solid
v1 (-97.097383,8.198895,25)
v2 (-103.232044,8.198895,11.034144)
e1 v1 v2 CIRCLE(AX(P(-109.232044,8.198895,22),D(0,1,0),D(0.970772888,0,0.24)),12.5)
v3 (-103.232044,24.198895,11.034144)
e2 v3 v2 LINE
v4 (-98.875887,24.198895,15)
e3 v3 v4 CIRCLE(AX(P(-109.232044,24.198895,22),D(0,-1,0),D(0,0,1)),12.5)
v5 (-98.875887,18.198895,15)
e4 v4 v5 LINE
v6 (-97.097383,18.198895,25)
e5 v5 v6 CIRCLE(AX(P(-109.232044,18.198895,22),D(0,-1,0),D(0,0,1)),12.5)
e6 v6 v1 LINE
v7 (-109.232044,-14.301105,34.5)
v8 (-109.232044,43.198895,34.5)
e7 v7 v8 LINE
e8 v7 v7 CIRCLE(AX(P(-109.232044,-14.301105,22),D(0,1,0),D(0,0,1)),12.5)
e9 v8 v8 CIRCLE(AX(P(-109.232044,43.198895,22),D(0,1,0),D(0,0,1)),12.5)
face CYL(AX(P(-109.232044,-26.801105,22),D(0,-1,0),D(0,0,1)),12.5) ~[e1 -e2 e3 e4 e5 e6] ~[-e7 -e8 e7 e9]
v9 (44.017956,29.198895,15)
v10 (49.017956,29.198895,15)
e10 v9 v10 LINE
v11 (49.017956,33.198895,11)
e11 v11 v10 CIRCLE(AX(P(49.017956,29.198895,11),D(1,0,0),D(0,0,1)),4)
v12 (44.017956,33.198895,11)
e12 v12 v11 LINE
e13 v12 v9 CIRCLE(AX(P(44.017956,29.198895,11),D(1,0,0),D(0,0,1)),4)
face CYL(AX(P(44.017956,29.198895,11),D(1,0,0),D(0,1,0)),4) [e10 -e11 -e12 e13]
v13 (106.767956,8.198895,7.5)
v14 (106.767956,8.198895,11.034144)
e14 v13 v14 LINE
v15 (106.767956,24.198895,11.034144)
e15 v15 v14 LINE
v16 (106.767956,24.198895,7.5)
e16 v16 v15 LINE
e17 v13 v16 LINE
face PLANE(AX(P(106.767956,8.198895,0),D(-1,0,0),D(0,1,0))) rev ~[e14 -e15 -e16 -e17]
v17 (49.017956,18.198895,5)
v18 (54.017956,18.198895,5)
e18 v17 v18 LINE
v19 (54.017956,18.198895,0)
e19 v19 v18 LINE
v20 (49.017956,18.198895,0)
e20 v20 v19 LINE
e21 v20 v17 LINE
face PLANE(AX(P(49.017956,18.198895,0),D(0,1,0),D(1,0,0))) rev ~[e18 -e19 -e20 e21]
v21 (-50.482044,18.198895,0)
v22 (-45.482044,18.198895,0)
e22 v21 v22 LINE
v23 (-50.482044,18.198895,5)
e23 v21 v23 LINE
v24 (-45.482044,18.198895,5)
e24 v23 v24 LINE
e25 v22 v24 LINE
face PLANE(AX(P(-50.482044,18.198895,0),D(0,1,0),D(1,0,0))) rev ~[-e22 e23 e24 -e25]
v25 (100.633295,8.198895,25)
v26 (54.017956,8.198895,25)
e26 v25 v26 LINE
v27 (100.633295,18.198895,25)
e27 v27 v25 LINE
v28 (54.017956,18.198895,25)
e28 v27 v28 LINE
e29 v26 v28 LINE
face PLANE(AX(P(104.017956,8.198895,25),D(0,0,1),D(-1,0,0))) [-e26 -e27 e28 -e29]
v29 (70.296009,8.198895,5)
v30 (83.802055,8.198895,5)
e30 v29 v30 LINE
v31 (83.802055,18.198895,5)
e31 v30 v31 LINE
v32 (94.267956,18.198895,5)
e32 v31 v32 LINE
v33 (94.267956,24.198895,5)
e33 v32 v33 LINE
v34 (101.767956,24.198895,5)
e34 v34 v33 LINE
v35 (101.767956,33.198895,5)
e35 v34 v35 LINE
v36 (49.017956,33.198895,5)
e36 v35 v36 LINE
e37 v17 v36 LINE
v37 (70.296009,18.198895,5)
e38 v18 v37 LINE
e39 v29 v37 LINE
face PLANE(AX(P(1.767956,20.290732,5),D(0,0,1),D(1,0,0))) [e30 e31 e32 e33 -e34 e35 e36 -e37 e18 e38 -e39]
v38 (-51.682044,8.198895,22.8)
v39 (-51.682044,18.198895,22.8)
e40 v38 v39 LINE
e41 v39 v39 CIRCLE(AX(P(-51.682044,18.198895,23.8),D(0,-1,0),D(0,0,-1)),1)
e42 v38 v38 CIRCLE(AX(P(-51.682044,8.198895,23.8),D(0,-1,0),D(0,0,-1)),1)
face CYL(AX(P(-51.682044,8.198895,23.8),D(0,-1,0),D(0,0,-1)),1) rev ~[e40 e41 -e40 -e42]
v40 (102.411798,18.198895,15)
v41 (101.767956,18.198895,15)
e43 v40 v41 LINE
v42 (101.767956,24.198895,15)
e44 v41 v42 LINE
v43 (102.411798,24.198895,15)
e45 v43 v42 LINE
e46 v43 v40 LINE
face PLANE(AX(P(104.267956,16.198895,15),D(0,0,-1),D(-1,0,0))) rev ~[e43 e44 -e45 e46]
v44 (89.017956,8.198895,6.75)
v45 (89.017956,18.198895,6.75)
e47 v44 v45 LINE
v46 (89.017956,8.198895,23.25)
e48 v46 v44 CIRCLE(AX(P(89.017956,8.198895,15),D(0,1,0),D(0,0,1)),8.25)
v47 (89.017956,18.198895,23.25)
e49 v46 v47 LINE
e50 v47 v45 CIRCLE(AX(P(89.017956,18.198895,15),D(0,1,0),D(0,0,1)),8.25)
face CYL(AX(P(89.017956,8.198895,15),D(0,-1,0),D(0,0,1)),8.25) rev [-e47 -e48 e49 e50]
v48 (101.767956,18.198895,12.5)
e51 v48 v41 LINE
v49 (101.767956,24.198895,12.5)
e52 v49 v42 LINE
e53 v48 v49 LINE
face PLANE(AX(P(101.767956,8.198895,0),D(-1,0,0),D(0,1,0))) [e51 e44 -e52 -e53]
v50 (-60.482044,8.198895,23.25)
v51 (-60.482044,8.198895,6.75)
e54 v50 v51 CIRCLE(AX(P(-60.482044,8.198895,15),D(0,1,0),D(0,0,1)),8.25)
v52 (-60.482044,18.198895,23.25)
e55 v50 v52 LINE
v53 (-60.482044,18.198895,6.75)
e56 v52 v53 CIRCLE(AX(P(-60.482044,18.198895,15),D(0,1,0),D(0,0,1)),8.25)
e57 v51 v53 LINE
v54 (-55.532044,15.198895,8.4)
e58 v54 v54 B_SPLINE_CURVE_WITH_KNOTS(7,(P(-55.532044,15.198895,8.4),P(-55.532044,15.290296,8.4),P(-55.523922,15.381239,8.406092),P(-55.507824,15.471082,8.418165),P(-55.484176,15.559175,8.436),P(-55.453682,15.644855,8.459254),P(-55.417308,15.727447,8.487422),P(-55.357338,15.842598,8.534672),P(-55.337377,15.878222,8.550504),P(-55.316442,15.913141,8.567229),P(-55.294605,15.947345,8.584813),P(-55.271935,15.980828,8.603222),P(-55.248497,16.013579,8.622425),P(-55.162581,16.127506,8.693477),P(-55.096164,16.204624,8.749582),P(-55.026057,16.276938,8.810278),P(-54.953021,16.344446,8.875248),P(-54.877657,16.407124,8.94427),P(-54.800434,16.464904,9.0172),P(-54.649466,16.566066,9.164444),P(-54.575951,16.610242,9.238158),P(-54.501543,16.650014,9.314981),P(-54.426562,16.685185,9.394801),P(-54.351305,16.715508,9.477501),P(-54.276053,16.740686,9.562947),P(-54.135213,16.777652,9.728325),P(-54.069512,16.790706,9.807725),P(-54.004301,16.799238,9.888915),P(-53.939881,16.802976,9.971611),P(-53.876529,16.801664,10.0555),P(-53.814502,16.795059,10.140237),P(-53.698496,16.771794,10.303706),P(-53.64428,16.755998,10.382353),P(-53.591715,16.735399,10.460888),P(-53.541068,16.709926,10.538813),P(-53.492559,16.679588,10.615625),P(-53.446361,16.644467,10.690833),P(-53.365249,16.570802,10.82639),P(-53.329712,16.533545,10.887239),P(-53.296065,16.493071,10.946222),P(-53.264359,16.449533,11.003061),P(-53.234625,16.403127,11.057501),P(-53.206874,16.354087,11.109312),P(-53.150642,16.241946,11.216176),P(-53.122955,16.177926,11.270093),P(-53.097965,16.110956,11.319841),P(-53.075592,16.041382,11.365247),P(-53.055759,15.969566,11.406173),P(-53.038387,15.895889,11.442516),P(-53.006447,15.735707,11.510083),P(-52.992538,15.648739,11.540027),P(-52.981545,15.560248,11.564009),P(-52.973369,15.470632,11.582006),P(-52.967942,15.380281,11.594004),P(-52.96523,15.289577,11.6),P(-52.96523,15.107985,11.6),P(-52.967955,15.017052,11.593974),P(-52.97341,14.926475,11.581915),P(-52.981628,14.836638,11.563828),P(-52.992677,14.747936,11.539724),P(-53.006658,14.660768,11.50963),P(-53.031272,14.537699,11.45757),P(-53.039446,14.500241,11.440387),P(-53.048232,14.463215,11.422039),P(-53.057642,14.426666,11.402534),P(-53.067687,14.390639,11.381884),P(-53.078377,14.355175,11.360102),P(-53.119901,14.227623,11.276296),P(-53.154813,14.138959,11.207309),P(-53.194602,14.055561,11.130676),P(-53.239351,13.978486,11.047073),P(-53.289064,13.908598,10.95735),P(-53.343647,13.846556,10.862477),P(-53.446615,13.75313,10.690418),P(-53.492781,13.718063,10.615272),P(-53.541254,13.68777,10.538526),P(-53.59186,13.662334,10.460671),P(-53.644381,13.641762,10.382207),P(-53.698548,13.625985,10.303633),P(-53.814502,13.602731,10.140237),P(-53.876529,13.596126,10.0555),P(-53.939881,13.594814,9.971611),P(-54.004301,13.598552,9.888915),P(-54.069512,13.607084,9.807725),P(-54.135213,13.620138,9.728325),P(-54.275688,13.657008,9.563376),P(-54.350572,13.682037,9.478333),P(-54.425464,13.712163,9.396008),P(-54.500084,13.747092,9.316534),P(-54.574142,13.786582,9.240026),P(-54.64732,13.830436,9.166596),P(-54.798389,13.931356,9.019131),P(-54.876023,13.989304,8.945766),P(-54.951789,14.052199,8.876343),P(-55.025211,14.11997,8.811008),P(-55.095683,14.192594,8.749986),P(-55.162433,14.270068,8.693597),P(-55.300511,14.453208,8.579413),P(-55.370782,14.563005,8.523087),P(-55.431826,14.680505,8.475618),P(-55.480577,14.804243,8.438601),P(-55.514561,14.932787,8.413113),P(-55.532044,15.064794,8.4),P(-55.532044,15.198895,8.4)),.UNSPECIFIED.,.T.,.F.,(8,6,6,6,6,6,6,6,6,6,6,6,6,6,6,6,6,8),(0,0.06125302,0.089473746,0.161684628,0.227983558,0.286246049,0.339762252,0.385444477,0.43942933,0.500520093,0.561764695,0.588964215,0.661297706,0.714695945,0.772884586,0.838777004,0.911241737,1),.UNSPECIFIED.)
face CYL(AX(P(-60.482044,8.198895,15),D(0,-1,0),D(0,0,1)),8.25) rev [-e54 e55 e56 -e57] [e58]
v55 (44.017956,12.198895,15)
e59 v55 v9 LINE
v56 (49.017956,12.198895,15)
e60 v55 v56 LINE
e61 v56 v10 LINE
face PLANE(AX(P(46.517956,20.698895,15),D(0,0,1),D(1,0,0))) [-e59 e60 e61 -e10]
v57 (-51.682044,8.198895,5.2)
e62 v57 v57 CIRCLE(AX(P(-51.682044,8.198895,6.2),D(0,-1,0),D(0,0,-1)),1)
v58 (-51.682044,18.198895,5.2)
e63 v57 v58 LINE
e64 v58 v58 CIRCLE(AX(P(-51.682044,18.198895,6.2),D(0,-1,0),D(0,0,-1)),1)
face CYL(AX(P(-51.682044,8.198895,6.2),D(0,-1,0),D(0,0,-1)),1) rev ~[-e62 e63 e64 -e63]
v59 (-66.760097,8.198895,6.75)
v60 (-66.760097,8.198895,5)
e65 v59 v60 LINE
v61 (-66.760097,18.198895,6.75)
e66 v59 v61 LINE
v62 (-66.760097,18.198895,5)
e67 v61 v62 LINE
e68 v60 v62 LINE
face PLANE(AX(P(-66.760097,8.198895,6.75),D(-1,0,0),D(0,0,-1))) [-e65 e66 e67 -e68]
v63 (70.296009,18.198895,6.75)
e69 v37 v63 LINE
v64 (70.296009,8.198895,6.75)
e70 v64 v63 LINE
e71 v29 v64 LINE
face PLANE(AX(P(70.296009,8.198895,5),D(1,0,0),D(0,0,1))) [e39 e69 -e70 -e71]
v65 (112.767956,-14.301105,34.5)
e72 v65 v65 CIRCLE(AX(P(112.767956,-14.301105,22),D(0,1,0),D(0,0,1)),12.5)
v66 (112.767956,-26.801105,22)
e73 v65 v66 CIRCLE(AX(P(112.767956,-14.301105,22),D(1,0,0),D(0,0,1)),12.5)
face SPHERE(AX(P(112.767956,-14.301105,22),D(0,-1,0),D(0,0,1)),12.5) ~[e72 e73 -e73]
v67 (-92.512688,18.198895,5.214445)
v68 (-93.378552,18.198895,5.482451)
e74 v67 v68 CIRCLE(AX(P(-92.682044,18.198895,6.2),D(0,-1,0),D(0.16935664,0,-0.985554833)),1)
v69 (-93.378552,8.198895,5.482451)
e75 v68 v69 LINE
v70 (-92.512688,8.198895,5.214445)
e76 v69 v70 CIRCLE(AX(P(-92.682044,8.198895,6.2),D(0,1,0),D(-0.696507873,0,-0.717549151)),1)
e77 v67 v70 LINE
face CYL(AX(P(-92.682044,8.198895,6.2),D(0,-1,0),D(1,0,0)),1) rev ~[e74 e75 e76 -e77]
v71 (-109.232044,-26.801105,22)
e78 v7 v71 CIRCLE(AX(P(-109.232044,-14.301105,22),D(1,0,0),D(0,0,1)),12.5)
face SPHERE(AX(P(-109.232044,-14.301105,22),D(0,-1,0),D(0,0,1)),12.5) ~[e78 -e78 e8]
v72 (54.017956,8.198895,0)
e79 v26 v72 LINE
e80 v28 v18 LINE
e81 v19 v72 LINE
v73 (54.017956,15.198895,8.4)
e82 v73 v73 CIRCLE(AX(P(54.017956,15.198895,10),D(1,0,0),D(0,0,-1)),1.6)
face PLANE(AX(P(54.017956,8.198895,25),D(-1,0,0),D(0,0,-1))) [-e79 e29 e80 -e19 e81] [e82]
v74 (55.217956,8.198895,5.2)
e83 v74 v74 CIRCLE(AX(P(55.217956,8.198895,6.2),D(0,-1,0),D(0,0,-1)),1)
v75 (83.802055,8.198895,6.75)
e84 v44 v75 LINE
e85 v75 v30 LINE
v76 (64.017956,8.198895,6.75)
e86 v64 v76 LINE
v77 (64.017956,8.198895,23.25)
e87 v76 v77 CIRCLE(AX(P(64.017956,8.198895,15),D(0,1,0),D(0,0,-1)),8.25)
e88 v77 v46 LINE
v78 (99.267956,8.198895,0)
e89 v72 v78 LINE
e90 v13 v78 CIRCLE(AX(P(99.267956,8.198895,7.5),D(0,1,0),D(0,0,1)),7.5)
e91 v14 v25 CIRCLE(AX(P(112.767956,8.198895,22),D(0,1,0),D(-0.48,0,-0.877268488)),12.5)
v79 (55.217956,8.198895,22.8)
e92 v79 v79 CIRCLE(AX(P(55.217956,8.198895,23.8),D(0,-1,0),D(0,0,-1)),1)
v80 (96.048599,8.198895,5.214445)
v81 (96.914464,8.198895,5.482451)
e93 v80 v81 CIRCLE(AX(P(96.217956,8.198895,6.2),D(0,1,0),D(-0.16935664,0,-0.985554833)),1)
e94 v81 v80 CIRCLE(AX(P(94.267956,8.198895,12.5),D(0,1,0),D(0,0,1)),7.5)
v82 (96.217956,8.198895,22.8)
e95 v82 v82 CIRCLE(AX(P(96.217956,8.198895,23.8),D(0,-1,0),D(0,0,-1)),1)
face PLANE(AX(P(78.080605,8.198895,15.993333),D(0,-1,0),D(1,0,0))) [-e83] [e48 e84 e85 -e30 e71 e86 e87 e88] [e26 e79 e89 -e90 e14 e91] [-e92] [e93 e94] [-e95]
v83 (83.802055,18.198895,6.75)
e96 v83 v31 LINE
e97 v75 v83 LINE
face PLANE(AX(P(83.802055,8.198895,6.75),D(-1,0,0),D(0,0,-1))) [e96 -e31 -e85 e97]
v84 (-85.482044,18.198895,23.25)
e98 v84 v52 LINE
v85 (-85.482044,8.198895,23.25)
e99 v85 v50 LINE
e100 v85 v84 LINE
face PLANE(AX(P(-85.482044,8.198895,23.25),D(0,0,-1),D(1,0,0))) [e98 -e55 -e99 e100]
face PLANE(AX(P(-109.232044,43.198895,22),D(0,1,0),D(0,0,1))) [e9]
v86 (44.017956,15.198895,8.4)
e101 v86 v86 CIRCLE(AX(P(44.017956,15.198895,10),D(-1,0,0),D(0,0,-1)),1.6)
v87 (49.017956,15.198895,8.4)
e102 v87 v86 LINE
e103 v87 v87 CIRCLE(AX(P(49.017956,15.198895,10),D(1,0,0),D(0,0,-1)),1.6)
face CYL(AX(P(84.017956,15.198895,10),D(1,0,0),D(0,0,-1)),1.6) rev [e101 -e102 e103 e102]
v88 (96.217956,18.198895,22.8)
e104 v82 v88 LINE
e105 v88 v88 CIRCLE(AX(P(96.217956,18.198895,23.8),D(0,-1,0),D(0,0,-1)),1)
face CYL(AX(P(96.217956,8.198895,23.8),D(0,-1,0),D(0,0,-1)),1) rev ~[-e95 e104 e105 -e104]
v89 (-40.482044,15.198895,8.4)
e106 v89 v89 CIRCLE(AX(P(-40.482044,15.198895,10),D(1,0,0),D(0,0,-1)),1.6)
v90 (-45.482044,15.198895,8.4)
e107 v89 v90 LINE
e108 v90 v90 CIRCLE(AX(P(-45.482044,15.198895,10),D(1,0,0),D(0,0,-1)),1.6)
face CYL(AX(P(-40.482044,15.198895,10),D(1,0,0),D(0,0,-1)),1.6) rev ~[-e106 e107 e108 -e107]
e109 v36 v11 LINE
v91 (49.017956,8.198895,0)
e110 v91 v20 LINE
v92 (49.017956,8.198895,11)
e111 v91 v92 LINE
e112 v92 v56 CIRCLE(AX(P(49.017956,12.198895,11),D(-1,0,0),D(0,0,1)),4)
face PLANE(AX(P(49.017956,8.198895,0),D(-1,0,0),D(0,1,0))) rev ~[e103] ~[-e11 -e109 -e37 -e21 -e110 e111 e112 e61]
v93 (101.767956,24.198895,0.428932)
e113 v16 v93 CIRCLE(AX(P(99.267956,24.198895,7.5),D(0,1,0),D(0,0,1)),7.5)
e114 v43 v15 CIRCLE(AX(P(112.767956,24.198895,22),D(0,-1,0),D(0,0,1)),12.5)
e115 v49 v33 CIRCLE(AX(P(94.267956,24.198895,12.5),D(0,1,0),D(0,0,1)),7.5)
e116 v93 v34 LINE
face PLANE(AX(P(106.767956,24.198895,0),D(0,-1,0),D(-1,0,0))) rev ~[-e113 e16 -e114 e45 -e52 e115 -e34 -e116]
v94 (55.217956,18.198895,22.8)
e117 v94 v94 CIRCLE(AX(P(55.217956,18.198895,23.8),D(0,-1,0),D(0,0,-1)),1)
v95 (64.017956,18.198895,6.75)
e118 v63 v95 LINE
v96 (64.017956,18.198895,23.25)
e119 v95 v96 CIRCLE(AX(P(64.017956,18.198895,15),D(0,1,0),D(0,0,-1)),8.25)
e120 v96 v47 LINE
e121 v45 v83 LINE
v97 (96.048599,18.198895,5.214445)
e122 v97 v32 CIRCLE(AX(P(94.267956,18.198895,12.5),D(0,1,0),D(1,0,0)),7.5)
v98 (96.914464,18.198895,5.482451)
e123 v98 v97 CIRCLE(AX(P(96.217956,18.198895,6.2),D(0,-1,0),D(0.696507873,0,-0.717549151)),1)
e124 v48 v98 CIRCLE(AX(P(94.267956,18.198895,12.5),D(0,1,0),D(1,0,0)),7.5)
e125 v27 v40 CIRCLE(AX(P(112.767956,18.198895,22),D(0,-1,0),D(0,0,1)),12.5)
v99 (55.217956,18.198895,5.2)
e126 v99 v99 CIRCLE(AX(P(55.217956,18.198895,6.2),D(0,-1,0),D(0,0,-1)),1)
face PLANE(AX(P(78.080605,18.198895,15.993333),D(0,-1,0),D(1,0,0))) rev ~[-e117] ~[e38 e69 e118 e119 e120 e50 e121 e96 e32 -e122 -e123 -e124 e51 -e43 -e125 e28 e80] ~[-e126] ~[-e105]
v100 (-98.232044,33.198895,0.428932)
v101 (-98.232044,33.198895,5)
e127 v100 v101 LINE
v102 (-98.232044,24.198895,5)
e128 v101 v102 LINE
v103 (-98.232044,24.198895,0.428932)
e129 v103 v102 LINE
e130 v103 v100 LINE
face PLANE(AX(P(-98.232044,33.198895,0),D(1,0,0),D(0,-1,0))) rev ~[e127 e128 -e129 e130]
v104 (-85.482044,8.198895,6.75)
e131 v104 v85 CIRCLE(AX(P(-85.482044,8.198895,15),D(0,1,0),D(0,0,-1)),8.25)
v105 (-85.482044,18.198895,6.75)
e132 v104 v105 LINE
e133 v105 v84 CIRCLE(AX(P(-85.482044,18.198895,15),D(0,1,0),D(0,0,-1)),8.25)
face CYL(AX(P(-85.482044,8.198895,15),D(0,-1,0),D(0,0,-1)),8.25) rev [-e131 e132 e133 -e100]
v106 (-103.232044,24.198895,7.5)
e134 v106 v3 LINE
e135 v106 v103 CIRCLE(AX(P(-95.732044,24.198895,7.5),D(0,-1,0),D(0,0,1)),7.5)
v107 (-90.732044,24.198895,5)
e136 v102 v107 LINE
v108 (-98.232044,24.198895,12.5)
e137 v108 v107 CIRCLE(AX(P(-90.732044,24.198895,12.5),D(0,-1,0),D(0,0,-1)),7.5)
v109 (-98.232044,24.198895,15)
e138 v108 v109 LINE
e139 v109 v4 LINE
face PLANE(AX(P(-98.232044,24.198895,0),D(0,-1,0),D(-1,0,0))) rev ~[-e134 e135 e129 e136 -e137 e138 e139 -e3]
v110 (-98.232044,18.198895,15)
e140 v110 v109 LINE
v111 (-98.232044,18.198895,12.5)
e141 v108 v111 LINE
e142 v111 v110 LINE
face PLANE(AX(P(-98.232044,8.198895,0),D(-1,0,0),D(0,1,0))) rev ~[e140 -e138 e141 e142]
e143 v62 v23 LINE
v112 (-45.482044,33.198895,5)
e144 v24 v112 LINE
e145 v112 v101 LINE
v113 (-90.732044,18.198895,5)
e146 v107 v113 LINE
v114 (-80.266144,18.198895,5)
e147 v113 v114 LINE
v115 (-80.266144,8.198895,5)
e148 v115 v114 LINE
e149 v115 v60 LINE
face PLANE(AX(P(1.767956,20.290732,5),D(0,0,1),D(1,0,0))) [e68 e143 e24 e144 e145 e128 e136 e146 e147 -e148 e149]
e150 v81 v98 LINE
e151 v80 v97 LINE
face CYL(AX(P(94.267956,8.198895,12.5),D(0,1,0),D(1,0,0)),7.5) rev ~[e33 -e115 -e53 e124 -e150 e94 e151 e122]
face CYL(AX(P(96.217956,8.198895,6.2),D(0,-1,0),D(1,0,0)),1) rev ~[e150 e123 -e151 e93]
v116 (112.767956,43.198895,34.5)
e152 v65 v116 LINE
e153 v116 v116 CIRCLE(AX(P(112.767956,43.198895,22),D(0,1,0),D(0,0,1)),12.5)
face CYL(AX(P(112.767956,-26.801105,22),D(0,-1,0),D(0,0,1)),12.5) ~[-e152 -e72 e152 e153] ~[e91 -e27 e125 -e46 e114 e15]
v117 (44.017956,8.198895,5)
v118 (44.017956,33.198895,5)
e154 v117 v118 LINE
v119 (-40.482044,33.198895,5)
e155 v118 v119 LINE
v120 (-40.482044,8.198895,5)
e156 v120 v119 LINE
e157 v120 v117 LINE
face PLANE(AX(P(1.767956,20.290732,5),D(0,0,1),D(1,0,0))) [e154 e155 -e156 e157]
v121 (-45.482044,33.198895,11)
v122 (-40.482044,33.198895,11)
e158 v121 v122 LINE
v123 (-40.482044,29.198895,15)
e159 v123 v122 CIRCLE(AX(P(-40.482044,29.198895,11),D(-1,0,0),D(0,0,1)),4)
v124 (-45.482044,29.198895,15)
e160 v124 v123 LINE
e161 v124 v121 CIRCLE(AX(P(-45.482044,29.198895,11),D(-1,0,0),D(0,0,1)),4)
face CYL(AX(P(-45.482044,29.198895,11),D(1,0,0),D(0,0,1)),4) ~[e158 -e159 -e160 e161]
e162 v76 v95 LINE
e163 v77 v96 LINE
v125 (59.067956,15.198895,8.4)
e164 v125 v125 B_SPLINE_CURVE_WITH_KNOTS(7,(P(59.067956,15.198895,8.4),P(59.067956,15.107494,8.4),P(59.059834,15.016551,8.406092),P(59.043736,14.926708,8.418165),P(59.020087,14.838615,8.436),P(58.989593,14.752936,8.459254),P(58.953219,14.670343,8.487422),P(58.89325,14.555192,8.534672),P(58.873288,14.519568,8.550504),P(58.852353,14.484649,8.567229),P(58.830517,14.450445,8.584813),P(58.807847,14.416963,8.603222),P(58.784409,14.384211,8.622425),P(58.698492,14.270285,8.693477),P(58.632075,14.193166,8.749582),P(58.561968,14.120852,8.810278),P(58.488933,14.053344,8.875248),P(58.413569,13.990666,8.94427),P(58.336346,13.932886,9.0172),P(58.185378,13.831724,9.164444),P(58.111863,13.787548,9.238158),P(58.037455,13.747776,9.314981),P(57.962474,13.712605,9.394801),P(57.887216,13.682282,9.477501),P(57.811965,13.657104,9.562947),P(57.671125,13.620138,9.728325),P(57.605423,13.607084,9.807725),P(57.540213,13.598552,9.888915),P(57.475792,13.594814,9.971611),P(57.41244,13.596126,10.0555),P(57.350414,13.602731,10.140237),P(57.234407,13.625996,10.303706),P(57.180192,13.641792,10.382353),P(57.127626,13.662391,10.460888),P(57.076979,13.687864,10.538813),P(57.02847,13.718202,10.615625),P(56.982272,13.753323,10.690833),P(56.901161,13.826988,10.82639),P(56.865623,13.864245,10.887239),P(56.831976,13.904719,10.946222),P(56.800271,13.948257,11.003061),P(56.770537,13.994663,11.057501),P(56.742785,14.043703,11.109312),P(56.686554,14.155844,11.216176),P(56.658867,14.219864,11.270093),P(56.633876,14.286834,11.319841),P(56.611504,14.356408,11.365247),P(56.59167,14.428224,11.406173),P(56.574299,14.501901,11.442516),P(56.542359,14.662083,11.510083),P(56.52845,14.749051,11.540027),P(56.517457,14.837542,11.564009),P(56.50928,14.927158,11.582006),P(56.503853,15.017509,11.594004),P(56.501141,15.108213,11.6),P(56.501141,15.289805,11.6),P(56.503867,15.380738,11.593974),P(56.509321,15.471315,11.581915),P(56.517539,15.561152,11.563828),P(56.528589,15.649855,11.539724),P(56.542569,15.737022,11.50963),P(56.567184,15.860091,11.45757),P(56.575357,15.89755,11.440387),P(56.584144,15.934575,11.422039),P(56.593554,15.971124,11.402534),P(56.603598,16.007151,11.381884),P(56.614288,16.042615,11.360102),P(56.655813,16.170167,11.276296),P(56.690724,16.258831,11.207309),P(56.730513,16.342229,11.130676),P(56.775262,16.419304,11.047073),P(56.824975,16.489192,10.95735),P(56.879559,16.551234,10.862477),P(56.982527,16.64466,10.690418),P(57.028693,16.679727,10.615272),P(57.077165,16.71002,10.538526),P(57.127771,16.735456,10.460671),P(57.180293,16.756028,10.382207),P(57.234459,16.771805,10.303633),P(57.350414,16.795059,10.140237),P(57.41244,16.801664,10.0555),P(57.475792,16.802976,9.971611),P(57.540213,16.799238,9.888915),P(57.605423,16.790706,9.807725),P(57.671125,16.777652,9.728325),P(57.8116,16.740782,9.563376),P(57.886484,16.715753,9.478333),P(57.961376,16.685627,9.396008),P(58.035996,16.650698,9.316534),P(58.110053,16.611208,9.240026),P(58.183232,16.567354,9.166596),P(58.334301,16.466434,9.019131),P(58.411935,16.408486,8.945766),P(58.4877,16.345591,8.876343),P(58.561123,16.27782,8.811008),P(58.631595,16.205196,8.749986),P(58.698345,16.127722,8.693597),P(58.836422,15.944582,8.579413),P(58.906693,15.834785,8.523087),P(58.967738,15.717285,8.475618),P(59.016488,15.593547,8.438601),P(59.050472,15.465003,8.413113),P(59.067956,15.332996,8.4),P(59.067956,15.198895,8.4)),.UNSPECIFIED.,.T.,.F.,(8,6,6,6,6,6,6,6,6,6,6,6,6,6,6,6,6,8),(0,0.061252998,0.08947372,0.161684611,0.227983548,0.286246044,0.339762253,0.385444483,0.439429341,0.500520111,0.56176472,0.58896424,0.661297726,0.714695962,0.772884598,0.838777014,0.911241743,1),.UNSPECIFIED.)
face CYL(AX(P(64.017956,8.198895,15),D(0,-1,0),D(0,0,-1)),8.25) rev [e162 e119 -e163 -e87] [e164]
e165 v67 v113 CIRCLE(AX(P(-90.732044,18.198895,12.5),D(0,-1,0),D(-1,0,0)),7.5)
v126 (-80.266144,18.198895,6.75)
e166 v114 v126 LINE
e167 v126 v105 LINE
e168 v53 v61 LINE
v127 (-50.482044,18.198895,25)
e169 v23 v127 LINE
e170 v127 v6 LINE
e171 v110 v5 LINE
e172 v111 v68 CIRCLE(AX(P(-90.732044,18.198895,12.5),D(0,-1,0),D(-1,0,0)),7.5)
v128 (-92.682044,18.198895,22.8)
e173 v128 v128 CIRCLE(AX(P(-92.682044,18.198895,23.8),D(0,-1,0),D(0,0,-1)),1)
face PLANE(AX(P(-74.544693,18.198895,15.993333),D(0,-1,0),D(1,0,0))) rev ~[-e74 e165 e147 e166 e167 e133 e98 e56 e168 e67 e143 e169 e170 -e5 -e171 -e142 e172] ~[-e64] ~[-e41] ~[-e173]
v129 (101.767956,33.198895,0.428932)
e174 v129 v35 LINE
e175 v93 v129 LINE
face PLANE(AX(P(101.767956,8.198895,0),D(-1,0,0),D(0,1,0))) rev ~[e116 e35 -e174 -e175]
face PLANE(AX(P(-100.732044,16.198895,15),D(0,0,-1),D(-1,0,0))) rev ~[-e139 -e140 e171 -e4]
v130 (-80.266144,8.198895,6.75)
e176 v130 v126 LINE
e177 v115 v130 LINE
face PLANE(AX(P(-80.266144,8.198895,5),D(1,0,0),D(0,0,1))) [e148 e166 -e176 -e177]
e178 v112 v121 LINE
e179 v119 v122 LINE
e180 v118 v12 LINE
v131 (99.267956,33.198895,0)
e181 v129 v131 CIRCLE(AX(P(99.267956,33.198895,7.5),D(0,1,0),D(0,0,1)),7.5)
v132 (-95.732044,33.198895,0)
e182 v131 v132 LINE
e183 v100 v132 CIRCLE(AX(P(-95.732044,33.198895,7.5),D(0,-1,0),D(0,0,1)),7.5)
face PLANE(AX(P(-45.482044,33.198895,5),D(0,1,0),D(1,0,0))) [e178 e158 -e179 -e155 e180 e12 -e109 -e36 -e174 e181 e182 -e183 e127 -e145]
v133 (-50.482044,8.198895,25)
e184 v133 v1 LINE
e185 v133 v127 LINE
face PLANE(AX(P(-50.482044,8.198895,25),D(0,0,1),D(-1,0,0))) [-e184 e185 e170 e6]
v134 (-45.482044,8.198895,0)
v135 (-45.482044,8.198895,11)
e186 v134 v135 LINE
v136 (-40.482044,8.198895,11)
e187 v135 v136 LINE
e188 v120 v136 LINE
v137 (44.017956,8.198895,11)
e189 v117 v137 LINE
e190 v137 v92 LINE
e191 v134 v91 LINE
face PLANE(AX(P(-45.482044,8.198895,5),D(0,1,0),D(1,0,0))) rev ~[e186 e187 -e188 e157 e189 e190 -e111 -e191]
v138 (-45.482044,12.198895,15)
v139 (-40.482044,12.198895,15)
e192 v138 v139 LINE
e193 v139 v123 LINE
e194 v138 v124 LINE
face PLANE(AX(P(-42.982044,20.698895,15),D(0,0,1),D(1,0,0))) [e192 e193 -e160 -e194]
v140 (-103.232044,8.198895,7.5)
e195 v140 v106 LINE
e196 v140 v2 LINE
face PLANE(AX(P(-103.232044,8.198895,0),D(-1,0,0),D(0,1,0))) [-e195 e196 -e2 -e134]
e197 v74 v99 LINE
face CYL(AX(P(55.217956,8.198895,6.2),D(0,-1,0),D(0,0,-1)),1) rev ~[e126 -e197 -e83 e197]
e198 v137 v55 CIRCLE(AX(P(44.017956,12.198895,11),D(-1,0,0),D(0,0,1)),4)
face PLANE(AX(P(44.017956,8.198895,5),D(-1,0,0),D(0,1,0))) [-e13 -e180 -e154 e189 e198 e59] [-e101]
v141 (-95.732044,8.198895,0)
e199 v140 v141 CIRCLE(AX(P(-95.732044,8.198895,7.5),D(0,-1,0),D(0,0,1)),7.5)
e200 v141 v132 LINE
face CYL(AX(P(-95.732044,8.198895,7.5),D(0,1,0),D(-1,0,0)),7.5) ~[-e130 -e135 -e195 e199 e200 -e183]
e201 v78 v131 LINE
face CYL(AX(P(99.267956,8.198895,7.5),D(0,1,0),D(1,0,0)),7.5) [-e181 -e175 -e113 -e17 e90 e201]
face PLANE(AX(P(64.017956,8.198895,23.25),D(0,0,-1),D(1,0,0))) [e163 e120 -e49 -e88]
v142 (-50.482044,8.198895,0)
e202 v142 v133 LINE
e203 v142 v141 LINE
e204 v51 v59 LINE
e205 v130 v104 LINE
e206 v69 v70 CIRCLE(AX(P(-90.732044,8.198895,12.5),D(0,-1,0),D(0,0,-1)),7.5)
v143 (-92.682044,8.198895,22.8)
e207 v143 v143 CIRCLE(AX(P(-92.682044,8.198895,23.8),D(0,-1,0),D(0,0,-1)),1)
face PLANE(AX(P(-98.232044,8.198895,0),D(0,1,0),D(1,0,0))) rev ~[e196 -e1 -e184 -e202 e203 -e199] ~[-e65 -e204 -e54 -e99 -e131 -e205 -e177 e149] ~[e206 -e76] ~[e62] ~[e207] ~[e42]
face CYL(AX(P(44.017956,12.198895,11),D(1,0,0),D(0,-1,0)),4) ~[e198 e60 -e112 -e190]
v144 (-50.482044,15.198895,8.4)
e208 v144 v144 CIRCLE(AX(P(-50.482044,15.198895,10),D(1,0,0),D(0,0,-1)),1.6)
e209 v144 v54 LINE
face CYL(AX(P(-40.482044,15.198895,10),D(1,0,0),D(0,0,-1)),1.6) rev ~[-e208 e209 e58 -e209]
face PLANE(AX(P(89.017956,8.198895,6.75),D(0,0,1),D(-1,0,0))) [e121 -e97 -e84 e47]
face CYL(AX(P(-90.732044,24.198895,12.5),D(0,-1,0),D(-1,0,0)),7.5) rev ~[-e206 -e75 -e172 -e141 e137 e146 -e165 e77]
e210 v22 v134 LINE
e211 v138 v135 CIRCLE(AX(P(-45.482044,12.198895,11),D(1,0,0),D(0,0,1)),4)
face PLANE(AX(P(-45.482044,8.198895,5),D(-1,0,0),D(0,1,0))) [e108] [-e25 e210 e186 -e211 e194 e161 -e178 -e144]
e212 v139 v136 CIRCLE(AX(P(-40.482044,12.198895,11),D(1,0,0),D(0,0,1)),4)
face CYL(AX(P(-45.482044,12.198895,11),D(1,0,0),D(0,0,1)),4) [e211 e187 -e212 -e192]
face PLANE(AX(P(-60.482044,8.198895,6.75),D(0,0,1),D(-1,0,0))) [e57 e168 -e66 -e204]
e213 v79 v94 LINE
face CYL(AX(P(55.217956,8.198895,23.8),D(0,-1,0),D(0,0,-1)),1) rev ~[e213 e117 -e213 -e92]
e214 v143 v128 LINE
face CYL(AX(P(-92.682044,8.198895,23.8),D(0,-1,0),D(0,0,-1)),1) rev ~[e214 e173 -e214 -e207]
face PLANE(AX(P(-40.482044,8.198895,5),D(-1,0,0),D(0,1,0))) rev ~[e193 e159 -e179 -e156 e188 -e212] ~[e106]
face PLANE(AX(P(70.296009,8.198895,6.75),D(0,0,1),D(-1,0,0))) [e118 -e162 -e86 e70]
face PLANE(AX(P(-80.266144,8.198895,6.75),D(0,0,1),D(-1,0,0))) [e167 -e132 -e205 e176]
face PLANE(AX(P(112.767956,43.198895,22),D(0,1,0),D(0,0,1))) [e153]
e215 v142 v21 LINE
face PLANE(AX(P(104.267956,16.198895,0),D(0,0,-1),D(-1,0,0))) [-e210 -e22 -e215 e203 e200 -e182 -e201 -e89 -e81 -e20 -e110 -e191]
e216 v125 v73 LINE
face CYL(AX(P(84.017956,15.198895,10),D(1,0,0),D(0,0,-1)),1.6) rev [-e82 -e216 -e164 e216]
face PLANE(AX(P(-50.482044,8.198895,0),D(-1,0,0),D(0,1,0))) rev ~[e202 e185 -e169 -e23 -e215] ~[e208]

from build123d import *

# Parameters (mm, degrees)
EXTRUDE_1_DEPTH      = 5
SKETCH_2_W           = 5
SKETCH_2_H           = 25
EXTRUDE_2_DEPTH      = 10
SKETCH_3_R           = 1.5
CUT_EXTRUDE_1_DEPTH  = 120
FILLET_1_R           = 4
SKETCH_4_W           = 5
SKETCH_4_H           = 16
EXTRUDE_3_DEPTH      = 15
FILLET_3_R           = 7.5
EXTRUDE_4_DEPTH      = 10
EXTRUDE_4_DEPTH_BACK = 60
SKETCH_5_R           = 12.5
FILLET_4_R           = 12.5
SKETCH_6_R           = 1
EXTRUDE_5_DEPTH      = 10
SKETCH_7_R           = 1.6
CUT_EXTRUDE_2_DEPTH  = 40
CUT_EXTRUDE_START    = -40
SKETCH_8_R           = 1.6
CUT_EXTRUDE_3_DEPTH  = 40


with BuildPart() as part:
    # 草图1 → 凸台-拉伸1 (new body)
    with BuildSketch(Plane.XY):
        Polygon((-45.482044199, 8.198895028), (49.017955801, 8.198895028), (49.017955801, 18.198895028), (54.017955801, 18.198895028), (54.017955801, 8.198895028), (101.767955801, 8.198895028), (101.767955801, 33.198895028), (-98.232044199, 33.198895028), (-98.232044199, 8.198895028), (-50.482044199, 8.198895028), (-50.482044199, 18.198895028), (-45.482044199, 18.198895028), align=None)
    extrude(amount=EXTRUDE_1_DEPTH)

    # 草图2 → 凸台-拉伸2 (add)
    with BuildSketch(Plane.XY.offset(5)):
        with Locations((-42.982044199, 20.698895028)):
            Rectangle(SKETCH_2_W, SKETCH_2_H)
        with Locations((46.517955801, 20.698895028)):
            Rectangle(SKETCH_2_W, SKETCH_2_H)
    extrude(amount=EXTRUDE_2_DEPTH)

    # 草图3 → 切除-拉伸1 (cut)
    with BuildSketch(Plane(origin=(49.017955801, 0, 0), x_dir=(0, 0, -1), z_dir=(1, 0, 0))):
        with Locations((-10, 15.198895028)):
            Circle(SKETCH_3_R)
    extrude(amount=-CUT_EXTRUDE_1_DEPTH, mode=Mode.SUBTRACT)

    # 圆角1
    fillet_1_edges = [part.edges().sort_by_distance(p)[0] for p in [
        (-42.982044199, 8.198895028, 15),
        (-42.982044199, 33.198895028, 15),
        (46.517955801, 33.198895028, 15),
        (46.517955801, 8.198895028, 15),
    ]]
    fillet(fillet_1_edges, radius=FILLET_1_R)

    # 草图4 → 凸台-拉伸3 (add)
    with BuildSketch(Plane(origin=(0, 0, 0), x_dir=(-1, 0, 0), z_dir=(0, 0, -1))):
        with Locations((-104.267955801, 16.198895028)):
            Rectangle(SKETCH_4_W, SKETCH_4_H)
        with Locations((100.732044199, 16.198895028)):
            Rectangle(SKETCH_4_W, SKETCH_4_H)
    extrude(amount=-EXTRUDE_3_DEPTH)

    # 圆角3
    fillet_3_edges = [part.edges().sort_by_distance(p)[0] for p in [
        (-98.232044199, 16.198895028, 5),
        (-103.232044199, 16.198895028, 0),
        (101.767955801, 16.198895028, 5),
        (106.767955801, 16.198895028, 0),
    ]]
    fillet(fillet_3_edges, radius=FILLET_3_R)

    # 草图5 → 凸台-拉伸4 (add, two sides: drawn at the far end of the back side and taken through both)
    with BuildSketch(Plane(origin=(0, 33.198895028, 0), x_dir=(1, 0, 0), z_dir=(0, 1, 0)).offset(-EXTRUDE_4_DEPTH_BACK)):
        with Locations(Location((-109.232044199, -22, 0), (0, 0, 270))):
            Circle(SKETCH_5_R)
        with Locations(Location((112.767955801, -22, 0), (0, 0, 270))):
            Circle(SKETCH_5_R)
    extrude(amount=EXTRUDE_4_DEPTH + EXTRUDE_4_DEPTH_BACK)

    # 圆角4
    fillet_4_edges = [part.edges().sort_by_distance(p)[0] for p in [
        (-109.232044199, -26.801104972, 9.5),
        (112.767955801, -26.801104972, 9.5),
    ]]
    fillet(fillet_4_edges, radius=FILLET_4_R)

    # 草图6 → 凸台-拉伸5 (add)
    # profile 1 of 2: a face of its own
    with BuildSketch(Plane.XZ.offset(-8.198895028)):
        with BuildLine():
            ThreePointArc((89.017955801, 23.25), (97.267955801, 15), (89.017955801, 6.75))
            Line((89.017955801, 6.75), (83.802055385, 6.75))
            Line((83.802055385, 6.75), (83.802055385, 5))
            Line((83.802055385, 5), (104.017955801, 5))
            Line((104.017955801, 5), (104.017955801, 25))
            Line((104.017955801, 25), (54.017955801, 25))
            Line((54.017955801, 25), (54.017955801, 5))
            Line((54.017955801, 5), (70.296008778, 5))
            Line((70.296008778, 5), (70.296008778, 6.75))
            Line((70.296008778, 6.75), (64.017955801, 6.75))
            ThreePointArc((64.017955801, 6.75), (55.767955801, 15), (64.017955801, 23.25))
            Line((64.017955801, 23.25), (89.017955801, 23.25))
        make_face()
        with Locations(Location((55.217955801, 6.2, 0), (0, 0, 270))):
            Circle(SKETCH_6_R, mode=Mode.SUBTRACT)
        with Locations((96.217955801, 6.2)):
            Circle(SKETCH_6_R, mode=Mode.SUBTRACT)
        with Locations(Location((55.217955801, 23.8, 0), (0, 0, 270))):
            Circle(SKETCH_6_R, mode=Mode.SUBTRACT)
        with Locations(Location((96.217955801, 23.8, 0), (0, 0, 270))):
            Circle(SKETCH_6_R, mode=Mode.SUBTRACT)
    # profile 2 of 2: a face of its own
    with BuildSketch(Plane.XZ.offset(-8.198895028)):
        with BuildLine():
            Line((-66.760097176, 6.75), (-66.760097176, 5))
            Line((-66.760097176, 5), (-50.482044199, 5))
            Line((-50.482044199, 5), (-50.482044199, 25))
            Line((-50.482044199, 25), (-100.482044199, 25))
            Line((-100.482044199, 25), (-100.482044199, 5))
            Line((-100.482044199, 5), (-80.266143783, 5))
            Line((-80.266143783, 5), (-80.266143783, 6.75))
            Line((-80.266143783, 6.75), (-85.482044199, 6.75))
            ThreePointArc((-85.482044199, 6.75), (-93.732044199, 15), (-85.482044199, 23.25))
            Line((-85.482044199, 23.25), (-60.482044199, 23.25))
            ThreePointArc((-60.482044199, 23.25), (-52.232044199, 15), (-60.482044199, 6.75))
            Line((-60.482044199, 6.75), (-66.760097176, 6.75))
        make_face()
        with Locations((-92.682044199, 6.2)):
            Circle(SKETCH_6_R, mode=Mode.SUBTRACT)
        with Locations(Location((-51.682044199, 6.2, 0), (0, 0, 270))):
            Circle(SKETCH_6_R, mode=Mode.SUBTRACT)
        with Locations(Location((-92.682044199, 23.8, 0), (0, 0, 270))):
            Circle(SKETCH_6_R, mode=Mode.SUBTRACT)
        with Locations(Location((-51.682044199, 23.8, 0), (0, 0, 270))):
            Circle(SKETCH_6_R, mode=Mode.SUBTRACT)
    extrude(amount=-EXTRUDE_5_DEPTH)

    # 草图7 → 切除-拉伸2 (cut)
    with BuildSketch(Plane(origin=(-40.482044199, 0, 0), x_dir=(0, 0, -1), z_dir=(1, 0, 0))):
        with Locations((-10, 15.198895028)):
            Circle(SKETCH_7_R)
    extrude(amount=-CUT_EXTRUDE_2_DEPTH, mode=Mode.SUBTRACT)

    # 草图8 → 切除-拉伸3 (cut)
    with BuildSketch(Plane.ZY.offset(-44.017955801).offset(CUT_EXTRUDE_START)):
        with Locations(Location((10, 15.198895028, 0), (0, 0, 180))):
            Circle(SKETCH_8_R)
    extrude(amount=CUT_EXTRUDE_3_DEPTH, mode=Mode.SUBTRACT)


solid = part.part
